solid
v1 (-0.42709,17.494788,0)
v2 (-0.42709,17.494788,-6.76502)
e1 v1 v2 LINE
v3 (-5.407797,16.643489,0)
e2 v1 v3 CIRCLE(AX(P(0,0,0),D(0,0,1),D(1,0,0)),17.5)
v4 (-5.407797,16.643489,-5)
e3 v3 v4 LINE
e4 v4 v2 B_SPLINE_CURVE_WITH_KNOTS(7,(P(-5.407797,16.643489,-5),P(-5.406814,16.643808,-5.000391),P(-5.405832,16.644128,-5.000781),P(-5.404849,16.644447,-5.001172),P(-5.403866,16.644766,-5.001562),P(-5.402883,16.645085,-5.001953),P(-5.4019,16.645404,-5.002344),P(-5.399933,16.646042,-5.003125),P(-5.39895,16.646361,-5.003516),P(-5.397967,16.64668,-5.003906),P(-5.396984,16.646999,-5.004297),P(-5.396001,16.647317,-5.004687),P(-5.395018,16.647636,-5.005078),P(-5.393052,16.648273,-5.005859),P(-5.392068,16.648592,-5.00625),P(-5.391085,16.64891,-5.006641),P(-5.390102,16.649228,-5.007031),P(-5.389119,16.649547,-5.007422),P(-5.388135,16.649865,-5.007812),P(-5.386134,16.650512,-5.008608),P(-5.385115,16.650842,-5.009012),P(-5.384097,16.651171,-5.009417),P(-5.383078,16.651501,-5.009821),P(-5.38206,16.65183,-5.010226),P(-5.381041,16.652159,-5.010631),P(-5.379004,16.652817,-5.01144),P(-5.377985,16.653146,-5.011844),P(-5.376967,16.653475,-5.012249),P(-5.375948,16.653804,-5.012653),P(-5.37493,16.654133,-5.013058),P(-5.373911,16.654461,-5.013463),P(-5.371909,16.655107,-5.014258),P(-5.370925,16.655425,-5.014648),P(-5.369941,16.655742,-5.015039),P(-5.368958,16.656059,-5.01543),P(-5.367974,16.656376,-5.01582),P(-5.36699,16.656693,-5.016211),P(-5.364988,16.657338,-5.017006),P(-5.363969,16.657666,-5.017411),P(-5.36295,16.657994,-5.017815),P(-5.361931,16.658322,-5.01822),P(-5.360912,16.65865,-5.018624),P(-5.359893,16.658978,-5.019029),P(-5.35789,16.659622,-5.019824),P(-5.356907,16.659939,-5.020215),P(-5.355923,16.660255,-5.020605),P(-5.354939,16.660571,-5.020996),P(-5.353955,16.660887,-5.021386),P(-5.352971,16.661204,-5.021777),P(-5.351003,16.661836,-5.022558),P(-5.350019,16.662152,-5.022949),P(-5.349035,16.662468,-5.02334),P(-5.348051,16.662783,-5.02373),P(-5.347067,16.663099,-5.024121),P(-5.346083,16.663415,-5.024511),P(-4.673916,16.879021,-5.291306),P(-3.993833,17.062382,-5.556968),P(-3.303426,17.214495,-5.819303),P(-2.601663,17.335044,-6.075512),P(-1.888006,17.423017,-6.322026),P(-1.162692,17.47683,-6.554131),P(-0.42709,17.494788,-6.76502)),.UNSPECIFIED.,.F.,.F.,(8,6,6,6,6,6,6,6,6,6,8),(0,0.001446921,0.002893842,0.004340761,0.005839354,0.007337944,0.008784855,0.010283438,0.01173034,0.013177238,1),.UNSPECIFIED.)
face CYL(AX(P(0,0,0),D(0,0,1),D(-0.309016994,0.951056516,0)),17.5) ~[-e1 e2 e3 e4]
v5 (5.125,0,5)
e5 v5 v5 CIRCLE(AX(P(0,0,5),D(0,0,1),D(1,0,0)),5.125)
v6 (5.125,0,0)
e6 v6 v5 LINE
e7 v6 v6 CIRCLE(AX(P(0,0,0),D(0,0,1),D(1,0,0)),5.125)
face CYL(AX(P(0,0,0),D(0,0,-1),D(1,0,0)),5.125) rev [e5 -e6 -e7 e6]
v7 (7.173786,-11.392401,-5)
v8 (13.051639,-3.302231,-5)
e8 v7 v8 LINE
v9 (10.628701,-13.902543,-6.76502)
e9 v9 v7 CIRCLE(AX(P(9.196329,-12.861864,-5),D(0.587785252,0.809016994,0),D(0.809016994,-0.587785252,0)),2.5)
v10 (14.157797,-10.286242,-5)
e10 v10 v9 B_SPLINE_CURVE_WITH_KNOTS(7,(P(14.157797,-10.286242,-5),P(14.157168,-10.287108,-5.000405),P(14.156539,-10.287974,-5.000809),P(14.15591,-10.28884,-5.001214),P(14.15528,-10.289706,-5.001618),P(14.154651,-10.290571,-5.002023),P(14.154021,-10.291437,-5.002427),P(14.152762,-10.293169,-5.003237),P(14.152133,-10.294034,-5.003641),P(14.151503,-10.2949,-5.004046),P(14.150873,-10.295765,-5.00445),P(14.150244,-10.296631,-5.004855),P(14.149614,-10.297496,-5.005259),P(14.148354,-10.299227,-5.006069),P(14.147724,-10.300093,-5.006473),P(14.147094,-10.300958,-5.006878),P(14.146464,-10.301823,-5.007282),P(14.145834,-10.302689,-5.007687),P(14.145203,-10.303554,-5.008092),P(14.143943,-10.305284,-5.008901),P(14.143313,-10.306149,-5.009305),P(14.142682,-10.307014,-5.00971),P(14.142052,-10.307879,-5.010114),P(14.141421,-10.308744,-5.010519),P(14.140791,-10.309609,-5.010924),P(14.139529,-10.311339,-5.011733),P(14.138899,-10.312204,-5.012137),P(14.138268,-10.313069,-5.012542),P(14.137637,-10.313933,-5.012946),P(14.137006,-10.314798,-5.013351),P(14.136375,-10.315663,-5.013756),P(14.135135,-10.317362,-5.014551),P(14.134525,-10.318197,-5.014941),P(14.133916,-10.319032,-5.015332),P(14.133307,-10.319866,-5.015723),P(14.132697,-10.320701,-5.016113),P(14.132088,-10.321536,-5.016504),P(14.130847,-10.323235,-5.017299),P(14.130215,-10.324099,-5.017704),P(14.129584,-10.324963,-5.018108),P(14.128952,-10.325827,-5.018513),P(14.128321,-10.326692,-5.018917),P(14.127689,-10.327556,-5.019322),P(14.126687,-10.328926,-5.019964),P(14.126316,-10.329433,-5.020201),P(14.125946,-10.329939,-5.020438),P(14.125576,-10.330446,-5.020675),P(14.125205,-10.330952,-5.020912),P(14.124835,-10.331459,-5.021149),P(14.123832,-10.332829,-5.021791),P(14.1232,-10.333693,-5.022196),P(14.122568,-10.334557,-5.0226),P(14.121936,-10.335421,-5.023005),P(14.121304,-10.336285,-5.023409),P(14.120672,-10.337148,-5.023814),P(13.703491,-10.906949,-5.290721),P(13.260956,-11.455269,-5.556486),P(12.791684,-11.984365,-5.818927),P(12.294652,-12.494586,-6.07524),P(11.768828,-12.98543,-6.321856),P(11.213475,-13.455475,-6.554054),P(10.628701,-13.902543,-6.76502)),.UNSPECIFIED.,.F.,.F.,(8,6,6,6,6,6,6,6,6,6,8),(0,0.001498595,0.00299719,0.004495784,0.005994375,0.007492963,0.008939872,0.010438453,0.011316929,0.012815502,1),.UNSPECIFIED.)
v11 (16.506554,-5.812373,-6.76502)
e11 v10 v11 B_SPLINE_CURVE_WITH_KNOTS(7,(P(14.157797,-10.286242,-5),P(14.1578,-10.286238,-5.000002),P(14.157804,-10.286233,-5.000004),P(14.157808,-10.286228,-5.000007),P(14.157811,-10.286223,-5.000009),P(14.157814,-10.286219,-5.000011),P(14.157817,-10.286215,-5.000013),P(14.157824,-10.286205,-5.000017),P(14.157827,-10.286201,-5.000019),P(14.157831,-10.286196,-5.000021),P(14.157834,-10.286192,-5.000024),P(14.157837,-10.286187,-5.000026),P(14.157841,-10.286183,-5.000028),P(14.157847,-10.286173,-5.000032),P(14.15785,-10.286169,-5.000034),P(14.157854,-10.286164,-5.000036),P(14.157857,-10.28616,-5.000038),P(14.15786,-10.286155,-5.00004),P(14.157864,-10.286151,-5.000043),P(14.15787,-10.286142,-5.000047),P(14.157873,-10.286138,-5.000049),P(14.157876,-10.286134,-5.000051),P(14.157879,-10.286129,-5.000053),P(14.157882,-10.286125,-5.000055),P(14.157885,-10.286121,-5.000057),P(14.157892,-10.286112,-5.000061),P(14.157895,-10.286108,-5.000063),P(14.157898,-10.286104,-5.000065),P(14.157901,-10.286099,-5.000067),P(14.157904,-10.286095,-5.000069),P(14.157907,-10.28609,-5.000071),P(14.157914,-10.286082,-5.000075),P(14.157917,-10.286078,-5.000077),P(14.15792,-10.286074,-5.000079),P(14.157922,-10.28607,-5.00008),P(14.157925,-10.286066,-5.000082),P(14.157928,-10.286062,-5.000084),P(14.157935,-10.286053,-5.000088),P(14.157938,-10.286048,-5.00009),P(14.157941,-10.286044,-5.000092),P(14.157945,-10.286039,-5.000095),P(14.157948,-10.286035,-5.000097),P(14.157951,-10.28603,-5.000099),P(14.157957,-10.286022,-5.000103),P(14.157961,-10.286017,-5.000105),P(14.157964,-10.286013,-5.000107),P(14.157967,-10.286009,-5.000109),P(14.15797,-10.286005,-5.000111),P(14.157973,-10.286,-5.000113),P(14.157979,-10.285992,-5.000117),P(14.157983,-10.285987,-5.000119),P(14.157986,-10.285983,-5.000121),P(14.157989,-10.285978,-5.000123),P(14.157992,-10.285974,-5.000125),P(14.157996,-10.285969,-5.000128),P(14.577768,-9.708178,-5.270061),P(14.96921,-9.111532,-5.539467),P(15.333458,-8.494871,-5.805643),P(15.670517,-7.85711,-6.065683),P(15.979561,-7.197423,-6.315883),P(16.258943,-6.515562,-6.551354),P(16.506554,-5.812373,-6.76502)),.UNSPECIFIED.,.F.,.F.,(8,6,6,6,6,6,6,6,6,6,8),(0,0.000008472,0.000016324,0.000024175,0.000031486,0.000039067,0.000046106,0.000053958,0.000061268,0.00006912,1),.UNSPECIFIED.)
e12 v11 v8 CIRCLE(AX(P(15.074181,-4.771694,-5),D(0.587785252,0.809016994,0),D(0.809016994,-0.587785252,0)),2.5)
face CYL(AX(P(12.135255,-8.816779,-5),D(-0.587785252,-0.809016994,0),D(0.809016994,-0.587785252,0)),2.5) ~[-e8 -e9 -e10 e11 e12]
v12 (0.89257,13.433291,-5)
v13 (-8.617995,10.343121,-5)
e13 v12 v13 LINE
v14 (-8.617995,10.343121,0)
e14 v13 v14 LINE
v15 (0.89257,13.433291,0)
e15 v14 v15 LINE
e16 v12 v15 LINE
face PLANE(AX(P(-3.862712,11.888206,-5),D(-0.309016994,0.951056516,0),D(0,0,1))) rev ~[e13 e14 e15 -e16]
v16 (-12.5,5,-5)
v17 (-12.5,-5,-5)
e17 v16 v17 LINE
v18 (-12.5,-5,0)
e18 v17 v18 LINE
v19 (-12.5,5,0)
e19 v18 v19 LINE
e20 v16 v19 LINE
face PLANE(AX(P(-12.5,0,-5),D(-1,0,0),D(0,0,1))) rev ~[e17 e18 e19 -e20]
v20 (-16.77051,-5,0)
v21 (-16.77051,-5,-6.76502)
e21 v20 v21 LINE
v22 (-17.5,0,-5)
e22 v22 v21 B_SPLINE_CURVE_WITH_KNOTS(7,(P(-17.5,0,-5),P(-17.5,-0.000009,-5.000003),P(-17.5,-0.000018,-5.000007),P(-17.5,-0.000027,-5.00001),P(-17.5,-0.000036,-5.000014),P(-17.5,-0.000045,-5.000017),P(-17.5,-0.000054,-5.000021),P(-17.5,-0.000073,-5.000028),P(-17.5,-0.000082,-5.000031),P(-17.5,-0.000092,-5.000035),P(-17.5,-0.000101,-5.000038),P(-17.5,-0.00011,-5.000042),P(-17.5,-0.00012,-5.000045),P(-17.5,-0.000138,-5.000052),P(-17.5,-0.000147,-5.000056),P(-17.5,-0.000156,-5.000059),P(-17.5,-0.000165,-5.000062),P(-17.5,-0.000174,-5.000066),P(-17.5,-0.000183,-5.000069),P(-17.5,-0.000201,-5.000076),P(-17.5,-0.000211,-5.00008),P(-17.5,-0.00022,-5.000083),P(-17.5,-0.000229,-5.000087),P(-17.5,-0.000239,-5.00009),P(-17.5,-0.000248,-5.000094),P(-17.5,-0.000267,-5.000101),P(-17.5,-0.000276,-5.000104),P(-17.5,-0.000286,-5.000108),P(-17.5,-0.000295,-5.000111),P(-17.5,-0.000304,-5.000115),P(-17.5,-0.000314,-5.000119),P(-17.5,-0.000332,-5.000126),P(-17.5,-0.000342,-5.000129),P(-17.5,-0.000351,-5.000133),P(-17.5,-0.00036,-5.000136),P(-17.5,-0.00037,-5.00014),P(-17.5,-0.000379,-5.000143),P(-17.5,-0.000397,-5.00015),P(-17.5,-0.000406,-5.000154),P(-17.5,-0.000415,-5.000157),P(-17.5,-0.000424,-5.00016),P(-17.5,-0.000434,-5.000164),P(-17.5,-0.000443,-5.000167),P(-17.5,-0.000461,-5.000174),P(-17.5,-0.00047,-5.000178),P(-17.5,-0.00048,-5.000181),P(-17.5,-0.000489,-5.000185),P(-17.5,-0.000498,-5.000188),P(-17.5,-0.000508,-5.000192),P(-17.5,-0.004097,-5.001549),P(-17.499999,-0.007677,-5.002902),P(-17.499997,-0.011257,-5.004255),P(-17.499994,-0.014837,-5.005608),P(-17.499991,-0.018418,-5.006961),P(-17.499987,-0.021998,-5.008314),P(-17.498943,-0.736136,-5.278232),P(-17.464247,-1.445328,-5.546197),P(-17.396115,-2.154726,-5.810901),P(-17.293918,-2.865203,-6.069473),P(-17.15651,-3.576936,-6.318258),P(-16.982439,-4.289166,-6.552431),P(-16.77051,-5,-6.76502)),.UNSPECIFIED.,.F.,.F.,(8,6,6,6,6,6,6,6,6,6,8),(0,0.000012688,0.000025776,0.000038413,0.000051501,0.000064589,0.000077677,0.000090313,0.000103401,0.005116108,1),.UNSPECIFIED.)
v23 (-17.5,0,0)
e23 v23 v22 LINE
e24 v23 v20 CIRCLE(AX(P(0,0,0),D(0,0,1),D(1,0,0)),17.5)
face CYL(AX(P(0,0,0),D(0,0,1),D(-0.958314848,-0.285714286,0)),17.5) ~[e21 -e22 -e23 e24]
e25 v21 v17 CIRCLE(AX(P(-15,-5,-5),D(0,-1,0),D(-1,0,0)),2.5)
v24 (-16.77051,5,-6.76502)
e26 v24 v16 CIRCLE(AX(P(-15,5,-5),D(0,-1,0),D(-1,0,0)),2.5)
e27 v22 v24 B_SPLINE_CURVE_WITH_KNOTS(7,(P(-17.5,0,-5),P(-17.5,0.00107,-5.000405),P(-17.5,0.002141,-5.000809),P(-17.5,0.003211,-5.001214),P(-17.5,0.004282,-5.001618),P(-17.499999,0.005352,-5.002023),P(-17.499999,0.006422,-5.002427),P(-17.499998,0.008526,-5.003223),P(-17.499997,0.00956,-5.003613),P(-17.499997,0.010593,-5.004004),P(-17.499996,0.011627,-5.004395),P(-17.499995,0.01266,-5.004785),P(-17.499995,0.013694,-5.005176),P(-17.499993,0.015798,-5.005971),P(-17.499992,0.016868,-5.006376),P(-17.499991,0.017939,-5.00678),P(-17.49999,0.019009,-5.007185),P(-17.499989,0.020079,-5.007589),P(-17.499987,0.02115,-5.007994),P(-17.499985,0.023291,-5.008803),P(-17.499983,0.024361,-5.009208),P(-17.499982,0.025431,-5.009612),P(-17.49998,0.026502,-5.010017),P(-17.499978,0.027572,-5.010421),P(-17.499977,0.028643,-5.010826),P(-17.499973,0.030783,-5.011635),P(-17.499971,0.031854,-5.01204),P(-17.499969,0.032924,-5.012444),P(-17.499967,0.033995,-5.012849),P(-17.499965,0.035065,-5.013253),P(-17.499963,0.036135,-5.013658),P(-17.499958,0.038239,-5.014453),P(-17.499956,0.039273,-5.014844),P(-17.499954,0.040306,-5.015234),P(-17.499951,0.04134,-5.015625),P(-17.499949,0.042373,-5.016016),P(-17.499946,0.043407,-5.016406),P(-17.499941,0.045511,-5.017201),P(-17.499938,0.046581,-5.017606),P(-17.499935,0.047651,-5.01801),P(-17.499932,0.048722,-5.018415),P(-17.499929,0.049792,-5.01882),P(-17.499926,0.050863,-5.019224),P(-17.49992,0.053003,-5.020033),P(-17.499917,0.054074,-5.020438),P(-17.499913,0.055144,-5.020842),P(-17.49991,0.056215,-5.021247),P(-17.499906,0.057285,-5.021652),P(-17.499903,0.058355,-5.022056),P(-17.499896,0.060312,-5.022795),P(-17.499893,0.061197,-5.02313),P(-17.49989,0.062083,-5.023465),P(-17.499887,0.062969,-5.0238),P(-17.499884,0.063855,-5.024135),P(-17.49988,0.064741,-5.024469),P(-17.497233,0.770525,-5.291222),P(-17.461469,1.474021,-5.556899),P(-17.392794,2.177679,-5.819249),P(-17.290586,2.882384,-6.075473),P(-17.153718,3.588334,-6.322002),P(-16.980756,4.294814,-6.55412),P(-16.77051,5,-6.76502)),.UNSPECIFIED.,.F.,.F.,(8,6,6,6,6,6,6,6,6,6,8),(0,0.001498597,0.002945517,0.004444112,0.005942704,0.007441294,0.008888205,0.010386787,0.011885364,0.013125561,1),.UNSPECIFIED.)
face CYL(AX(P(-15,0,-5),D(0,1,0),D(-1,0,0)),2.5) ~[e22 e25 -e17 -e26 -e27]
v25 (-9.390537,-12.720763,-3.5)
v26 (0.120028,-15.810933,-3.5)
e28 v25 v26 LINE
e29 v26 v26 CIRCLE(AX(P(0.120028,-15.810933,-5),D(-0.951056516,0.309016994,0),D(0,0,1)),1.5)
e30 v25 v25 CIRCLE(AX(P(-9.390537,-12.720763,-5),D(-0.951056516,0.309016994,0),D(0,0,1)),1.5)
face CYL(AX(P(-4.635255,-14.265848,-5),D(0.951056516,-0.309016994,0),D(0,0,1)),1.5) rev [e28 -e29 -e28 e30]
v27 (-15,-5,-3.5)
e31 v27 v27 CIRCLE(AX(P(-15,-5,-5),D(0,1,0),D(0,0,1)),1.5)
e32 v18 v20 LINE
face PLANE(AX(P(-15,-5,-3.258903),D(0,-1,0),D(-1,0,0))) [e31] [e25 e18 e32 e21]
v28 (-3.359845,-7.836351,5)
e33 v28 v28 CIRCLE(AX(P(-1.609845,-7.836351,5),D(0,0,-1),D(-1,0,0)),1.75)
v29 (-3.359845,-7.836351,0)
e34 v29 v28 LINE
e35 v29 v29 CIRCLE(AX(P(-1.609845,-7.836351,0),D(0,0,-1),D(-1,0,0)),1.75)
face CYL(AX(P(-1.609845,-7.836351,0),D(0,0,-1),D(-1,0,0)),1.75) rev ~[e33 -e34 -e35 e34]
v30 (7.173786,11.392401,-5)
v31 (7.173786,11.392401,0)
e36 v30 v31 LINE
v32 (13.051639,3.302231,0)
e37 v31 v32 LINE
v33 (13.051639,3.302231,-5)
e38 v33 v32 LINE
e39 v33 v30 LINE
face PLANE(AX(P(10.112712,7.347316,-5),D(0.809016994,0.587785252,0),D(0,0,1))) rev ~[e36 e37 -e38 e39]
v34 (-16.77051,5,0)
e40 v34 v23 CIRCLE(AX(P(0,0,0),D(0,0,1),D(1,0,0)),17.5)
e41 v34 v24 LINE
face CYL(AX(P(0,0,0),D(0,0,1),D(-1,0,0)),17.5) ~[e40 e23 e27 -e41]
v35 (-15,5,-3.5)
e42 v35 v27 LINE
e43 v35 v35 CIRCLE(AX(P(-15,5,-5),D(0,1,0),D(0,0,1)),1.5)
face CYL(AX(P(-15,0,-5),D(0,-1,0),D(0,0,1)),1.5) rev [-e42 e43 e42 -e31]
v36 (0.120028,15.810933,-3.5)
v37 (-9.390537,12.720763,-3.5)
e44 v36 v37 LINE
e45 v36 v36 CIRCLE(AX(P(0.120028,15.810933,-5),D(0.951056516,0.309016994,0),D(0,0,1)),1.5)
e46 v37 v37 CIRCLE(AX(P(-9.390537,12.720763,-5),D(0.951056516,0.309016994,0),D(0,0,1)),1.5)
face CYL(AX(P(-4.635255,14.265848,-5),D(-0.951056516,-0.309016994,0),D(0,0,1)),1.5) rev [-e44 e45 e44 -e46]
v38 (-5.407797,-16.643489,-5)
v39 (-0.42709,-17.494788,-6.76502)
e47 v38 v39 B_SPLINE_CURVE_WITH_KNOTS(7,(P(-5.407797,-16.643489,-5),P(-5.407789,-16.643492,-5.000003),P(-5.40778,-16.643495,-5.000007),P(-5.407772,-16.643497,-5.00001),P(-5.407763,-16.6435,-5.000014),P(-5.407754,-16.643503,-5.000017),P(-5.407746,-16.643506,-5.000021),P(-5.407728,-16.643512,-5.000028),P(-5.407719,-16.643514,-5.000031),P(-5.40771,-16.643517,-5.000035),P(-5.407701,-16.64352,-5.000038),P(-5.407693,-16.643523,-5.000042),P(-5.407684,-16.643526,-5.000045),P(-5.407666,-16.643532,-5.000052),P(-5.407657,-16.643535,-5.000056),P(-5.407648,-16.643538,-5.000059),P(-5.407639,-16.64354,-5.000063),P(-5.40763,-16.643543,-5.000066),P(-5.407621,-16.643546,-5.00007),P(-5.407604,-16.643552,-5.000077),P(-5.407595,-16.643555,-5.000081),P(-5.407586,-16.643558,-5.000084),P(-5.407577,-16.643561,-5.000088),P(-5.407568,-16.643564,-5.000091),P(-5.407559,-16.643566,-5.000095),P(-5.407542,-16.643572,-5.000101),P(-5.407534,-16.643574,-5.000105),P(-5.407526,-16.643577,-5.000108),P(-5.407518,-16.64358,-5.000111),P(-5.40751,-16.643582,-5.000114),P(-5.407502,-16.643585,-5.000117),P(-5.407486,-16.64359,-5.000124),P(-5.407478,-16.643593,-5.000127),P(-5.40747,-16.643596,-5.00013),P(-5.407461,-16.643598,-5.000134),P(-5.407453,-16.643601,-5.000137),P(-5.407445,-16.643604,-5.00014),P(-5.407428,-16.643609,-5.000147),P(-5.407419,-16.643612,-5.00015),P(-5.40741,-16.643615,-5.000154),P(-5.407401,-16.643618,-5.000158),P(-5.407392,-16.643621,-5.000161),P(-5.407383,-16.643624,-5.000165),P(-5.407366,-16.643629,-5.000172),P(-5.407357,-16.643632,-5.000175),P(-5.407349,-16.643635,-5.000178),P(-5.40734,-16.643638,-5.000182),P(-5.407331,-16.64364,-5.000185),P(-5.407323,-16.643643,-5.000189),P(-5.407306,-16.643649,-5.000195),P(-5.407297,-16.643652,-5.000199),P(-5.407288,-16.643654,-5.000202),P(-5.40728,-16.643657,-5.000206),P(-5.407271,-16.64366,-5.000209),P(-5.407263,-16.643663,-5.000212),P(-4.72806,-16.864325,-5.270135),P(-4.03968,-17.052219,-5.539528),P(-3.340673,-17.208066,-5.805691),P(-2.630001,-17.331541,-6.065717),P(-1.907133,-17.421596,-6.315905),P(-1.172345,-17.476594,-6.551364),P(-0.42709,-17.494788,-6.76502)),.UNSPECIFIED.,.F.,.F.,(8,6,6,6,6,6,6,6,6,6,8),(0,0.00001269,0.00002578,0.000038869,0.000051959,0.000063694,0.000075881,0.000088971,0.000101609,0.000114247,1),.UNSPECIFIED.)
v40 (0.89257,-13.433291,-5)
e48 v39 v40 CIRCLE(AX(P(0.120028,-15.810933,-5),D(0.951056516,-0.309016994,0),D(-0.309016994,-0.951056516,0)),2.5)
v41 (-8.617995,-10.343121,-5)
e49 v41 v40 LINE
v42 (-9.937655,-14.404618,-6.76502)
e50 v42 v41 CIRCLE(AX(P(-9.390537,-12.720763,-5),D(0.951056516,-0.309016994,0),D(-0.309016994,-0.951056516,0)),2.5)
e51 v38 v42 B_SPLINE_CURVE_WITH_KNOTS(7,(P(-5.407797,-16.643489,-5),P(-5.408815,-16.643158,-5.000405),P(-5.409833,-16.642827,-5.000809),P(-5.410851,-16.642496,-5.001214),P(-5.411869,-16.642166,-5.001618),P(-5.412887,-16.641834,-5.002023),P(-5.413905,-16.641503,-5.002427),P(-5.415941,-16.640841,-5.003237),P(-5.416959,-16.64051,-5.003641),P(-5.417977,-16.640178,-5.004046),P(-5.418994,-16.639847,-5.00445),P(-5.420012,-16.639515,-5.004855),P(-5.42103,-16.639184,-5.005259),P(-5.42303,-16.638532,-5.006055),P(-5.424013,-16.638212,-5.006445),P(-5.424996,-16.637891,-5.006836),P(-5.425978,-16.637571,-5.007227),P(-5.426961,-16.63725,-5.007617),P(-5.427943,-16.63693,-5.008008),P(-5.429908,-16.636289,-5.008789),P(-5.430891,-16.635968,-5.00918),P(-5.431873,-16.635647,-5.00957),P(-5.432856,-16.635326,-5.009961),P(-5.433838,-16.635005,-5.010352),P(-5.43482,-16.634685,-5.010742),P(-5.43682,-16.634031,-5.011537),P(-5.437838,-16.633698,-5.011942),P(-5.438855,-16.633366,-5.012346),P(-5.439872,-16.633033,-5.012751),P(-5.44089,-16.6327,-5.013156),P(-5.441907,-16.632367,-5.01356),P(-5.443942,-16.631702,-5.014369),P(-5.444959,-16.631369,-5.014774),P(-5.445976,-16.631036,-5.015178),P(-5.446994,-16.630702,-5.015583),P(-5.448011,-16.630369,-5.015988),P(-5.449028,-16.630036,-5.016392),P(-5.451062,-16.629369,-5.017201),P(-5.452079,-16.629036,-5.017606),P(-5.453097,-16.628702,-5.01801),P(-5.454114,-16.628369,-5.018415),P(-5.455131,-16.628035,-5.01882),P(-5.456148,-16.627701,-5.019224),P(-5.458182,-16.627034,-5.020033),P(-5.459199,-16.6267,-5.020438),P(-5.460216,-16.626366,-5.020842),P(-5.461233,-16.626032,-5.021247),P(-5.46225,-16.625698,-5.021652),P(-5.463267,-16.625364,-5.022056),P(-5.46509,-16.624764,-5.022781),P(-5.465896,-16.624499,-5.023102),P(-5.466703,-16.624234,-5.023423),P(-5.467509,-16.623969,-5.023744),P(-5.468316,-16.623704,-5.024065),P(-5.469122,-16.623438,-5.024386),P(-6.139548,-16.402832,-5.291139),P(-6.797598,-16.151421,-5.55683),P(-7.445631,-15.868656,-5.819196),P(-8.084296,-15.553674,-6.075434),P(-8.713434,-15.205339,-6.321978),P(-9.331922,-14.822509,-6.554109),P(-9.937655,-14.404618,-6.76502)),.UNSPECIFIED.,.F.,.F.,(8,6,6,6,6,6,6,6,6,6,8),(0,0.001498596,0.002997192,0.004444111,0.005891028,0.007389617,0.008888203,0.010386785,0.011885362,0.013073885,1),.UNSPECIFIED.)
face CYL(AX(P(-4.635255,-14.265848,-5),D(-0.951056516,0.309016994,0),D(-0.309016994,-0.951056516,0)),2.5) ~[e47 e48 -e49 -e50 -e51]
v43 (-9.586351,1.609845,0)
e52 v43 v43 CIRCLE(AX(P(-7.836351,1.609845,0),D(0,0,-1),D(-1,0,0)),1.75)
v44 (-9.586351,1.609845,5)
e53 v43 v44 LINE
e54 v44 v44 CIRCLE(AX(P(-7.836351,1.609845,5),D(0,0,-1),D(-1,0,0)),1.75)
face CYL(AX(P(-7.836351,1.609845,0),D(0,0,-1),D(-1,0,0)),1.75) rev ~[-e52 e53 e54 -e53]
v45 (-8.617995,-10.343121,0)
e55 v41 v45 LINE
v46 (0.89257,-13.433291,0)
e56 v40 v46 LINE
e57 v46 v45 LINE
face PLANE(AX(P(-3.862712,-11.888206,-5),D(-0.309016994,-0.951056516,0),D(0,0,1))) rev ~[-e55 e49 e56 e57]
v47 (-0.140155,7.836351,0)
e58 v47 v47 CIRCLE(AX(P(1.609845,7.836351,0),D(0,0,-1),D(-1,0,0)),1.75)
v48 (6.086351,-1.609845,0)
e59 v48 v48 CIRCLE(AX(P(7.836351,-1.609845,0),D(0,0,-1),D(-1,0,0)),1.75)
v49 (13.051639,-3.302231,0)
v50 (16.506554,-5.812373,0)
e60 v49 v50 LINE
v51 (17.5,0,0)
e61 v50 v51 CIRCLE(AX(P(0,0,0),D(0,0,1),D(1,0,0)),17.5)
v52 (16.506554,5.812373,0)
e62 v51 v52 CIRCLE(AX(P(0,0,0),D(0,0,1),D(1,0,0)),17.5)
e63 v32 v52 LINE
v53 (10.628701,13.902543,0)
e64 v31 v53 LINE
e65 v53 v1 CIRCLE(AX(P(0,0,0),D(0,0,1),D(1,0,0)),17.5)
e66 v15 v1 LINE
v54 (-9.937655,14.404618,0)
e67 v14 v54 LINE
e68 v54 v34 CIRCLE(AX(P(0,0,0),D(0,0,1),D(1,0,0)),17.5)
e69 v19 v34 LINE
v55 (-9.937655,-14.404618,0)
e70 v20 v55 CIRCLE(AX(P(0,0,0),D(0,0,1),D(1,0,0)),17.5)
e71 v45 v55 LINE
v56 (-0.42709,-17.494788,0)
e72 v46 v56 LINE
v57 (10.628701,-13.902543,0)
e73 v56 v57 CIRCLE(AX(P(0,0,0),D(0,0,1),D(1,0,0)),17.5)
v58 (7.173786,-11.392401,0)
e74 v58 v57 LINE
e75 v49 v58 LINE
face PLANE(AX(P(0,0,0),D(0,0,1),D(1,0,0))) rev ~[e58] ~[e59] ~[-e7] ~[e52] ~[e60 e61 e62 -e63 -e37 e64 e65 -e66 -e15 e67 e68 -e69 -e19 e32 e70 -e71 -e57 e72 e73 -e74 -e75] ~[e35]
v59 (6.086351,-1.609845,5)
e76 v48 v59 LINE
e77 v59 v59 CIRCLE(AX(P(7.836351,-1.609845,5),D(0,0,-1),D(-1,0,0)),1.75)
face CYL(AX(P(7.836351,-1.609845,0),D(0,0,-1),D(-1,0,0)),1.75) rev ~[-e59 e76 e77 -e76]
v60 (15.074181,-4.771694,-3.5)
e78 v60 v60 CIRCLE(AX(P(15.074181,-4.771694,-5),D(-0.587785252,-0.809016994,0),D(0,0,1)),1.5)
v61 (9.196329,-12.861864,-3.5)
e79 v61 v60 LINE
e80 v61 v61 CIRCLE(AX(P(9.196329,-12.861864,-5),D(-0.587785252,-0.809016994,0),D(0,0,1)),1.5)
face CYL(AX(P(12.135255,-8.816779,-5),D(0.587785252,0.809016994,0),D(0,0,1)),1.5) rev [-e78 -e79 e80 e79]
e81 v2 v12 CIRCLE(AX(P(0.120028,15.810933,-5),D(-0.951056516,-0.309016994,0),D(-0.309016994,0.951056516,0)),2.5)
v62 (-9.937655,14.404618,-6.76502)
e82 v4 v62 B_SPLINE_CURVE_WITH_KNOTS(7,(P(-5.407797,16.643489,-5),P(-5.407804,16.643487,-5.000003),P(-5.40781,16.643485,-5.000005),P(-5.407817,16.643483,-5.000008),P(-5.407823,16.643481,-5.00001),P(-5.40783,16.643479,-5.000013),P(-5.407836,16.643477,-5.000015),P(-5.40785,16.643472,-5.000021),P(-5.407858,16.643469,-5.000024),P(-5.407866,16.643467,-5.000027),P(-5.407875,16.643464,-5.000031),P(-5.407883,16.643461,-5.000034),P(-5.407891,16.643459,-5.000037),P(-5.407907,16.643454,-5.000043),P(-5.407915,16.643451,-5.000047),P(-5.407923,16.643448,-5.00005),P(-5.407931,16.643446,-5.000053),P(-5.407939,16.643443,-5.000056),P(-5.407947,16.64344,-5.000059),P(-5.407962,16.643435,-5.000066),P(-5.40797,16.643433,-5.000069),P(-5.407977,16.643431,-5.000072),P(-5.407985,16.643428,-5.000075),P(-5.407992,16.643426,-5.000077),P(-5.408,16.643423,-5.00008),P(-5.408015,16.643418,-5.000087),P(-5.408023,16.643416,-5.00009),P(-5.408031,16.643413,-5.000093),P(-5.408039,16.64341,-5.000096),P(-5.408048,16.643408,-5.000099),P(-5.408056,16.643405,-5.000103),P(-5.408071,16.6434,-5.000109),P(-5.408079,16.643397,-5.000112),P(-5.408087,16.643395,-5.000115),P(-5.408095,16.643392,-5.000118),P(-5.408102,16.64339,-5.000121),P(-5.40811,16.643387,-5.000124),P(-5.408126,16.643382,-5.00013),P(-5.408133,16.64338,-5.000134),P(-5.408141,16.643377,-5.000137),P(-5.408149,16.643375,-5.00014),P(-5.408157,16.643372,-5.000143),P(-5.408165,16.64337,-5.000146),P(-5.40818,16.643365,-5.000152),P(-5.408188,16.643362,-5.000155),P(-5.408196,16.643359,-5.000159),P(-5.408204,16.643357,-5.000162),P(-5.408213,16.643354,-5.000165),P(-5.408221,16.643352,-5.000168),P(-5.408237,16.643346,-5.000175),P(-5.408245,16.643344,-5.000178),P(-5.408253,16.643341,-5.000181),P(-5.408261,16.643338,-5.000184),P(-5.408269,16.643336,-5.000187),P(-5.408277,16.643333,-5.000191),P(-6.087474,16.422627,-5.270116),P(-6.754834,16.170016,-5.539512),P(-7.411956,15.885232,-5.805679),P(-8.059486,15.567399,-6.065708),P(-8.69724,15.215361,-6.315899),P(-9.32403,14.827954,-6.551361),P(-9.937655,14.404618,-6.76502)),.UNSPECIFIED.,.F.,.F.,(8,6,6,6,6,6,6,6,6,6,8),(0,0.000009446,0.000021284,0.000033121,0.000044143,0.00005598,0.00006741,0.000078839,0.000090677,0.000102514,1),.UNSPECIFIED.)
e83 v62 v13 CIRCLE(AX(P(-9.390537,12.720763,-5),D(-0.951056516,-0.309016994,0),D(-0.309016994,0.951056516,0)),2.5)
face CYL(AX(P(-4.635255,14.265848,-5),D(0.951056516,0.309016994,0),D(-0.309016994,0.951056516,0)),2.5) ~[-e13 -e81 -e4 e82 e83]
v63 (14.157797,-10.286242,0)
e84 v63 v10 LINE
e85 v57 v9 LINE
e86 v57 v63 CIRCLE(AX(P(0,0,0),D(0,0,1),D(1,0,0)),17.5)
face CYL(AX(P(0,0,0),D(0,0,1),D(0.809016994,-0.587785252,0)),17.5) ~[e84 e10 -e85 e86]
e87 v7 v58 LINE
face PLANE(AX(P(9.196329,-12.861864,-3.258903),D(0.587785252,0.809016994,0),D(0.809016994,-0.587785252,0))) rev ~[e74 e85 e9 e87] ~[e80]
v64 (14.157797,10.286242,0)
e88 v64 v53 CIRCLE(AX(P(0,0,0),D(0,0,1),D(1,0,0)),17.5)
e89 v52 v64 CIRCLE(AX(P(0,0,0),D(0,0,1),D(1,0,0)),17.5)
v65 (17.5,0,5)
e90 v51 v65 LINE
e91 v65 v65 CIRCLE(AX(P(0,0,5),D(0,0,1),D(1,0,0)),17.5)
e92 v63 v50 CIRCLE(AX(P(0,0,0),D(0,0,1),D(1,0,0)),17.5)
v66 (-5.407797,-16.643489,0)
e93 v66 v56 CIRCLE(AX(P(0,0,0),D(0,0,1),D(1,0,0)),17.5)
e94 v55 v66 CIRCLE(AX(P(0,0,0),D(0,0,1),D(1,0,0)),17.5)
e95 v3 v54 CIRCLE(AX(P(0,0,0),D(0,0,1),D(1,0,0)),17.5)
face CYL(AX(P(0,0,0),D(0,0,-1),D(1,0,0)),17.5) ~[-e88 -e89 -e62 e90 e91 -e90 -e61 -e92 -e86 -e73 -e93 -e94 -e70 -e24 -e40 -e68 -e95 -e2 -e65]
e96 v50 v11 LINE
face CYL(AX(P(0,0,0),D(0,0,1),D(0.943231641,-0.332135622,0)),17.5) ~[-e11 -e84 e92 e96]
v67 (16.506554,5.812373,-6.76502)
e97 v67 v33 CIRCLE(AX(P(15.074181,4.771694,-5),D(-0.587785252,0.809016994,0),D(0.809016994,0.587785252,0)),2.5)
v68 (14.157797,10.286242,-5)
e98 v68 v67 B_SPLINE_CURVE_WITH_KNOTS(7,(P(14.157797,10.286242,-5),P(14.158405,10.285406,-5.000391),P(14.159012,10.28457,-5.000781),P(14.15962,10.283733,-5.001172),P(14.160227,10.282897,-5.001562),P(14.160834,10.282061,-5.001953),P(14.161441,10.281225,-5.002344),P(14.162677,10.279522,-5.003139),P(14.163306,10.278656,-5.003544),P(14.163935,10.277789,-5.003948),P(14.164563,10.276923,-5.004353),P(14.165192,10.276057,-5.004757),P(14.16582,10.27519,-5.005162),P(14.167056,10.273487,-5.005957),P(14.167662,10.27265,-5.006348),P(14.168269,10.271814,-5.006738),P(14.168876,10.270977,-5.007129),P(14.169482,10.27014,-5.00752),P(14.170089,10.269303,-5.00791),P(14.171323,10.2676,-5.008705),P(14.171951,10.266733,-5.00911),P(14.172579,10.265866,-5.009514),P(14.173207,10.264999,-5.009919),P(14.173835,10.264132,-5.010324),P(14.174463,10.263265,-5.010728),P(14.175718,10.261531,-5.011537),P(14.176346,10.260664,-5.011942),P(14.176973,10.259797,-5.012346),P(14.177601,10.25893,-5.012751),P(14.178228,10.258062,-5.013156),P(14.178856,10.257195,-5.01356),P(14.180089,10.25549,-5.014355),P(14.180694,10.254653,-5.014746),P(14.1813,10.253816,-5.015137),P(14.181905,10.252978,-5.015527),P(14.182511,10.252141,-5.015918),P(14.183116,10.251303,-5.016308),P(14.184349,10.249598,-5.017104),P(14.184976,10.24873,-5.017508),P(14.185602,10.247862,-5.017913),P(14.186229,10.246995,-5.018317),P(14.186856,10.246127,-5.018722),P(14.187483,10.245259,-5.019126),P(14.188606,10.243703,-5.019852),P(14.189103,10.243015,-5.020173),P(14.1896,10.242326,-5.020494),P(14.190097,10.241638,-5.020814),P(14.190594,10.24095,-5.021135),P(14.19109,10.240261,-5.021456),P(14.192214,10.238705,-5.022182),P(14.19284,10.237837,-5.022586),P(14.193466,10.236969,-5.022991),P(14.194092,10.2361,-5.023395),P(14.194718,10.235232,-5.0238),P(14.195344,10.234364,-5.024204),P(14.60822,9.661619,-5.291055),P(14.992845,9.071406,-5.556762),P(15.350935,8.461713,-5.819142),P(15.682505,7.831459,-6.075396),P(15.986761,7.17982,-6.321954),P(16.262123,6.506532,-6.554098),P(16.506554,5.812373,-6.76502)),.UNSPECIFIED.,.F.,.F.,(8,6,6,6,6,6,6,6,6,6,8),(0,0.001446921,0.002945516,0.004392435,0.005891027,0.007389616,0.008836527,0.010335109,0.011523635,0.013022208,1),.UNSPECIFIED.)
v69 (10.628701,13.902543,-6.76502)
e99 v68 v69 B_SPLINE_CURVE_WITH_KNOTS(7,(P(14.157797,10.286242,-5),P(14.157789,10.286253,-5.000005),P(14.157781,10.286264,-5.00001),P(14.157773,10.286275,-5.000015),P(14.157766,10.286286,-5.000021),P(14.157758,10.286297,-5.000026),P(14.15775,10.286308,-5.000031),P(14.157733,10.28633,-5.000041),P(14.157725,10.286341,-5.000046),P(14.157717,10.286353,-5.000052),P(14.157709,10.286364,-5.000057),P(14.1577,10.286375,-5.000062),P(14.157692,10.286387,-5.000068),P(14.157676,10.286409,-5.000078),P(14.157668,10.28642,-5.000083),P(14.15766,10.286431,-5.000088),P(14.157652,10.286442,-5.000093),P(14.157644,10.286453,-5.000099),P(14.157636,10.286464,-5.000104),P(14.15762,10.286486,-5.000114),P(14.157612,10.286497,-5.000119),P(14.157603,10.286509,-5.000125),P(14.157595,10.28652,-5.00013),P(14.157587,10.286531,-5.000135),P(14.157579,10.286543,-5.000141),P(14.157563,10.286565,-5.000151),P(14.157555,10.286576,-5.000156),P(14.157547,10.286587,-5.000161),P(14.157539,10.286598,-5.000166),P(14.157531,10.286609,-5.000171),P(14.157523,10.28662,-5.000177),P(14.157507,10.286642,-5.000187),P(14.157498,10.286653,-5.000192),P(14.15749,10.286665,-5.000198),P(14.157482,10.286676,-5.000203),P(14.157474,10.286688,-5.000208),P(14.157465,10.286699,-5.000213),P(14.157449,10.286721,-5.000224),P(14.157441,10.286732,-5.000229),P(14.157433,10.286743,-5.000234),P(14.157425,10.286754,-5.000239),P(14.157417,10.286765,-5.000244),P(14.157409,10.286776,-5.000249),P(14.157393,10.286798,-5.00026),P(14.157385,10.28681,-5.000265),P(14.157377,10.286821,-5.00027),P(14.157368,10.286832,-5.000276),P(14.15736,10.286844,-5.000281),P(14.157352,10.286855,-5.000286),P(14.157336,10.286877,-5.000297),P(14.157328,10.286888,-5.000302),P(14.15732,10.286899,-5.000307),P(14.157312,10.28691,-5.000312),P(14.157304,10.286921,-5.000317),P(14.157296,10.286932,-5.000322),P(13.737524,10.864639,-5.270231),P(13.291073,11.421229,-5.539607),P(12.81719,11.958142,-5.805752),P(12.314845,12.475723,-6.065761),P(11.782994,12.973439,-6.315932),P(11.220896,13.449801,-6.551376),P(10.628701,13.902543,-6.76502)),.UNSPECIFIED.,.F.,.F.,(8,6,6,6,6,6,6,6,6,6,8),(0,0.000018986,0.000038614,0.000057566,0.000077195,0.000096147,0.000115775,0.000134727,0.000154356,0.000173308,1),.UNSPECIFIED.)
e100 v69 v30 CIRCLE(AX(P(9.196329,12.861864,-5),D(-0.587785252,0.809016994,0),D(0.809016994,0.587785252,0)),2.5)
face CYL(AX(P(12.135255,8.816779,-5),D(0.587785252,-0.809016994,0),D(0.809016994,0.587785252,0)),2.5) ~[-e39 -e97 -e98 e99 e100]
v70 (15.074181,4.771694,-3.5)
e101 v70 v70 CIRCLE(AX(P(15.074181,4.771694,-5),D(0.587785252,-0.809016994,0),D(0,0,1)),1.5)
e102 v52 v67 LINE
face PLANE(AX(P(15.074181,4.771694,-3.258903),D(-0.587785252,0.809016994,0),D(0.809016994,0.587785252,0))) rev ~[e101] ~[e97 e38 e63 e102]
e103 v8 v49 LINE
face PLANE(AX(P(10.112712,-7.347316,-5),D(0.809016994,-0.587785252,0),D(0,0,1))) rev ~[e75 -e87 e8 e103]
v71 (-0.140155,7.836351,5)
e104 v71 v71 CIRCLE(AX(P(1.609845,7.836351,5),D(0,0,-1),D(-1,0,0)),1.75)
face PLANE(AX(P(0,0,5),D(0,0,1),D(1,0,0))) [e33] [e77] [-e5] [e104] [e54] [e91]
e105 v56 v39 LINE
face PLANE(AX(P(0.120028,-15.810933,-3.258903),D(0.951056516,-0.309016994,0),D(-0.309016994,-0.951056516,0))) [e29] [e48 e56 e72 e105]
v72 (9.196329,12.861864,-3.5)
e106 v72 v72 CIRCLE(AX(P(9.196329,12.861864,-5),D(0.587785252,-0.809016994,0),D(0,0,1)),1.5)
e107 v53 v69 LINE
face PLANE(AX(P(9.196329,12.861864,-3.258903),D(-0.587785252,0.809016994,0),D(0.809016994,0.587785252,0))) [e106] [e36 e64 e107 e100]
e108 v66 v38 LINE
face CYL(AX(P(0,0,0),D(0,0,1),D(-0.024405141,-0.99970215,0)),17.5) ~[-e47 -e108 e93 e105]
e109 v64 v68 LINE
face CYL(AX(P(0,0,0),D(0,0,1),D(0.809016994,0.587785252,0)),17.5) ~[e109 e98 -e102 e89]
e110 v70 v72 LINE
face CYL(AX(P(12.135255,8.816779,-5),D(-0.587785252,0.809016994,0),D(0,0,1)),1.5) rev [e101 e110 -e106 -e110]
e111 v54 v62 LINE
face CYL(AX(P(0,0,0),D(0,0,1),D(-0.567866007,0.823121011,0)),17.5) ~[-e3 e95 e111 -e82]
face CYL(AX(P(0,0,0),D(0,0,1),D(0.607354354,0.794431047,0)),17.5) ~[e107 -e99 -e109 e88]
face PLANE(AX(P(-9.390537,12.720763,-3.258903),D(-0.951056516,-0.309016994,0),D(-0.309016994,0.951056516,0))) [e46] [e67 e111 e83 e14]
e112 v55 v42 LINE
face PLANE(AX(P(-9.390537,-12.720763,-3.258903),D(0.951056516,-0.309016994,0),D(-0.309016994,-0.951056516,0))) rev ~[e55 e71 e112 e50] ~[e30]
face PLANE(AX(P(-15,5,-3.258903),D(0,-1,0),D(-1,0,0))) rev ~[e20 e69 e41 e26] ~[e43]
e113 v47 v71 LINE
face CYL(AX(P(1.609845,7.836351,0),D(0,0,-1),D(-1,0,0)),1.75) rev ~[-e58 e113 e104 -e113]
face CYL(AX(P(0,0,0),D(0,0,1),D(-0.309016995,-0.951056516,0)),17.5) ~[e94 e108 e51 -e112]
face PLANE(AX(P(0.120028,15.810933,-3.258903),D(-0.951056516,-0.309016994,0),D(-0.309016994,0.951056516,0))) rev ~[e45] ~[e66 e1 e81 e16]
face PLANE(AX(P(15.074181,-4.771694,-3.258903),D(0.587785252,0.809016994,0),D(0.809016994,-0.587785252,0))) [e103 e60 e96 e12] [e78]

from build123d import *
from build123d.topology import SkipClean

# Parameters (mm, degrees)
ESQUISSE1_R                  = 17.5
ESQUISSE1_R_2                = 5.125
BOSS_EXTRU_1_DEPTH           = 5
ESQUISSE2_R                  = 1.5
BOSS_EXTRU_2_DEPTH           = 5
ENL_V_MAT_EXTRU_1_DEPTH      = 26.860201082
R_P_TITION_CIRCULAIRE1_COUNT = 5
ESQUISSE4_R                  = 1.75
ENL_V_MAT_EXTRU_2_DEPTH      = 10


with BuildPart() as part:
    # Esquisse1 → Boss.-Extru.1 (new body)
    with BuildSketch(Plane.XY):
        Circle(ESQUISSE1_R)
        Circle(ESQUISSE1_R_2, mode=Mode.SUBTRACT)
    extrude(amount=BOSS_EXTRU_1_DEPTH)

    # Esquisse2 → Boss.-Extru.2 (add, symmetric)
    with BuildSketch(Plane(origin=(0, 0, 0), x_dir=(1, 0, 0), z_dir=(0, 1, 0))):
        with BuildLine():
            Line((-17.5, 0), (-17.5, 5))
            ThreePointArc((-17.5, 5), (-15, 7.5), (-12.5, 5))
            Line((-12.5, 5), (-12.5, 0))
            Line((-12.5, 0), (-17.5, 0))
        make_face()
        with Locations((-15, 5)):
            Circle(ESQUISSE2_R, mode=Mode.SUBTRACT)
    boss_extru_2 = extrude(amount=BOSS_EXTRU_2_DEPTH, both=True)

    # Esquisse3 → Enlèv. mat.-Extru.1 (cut, through all)
    with SkipClean():  # the faces are left unmerged after this step: merging them gives an invalid solid
        with BuildSketch(Plane.XY):
            with BuildLine():
                ThreePointArc((-16.770509831, -5), (-17.316667145, -2.526467688), (-17.5, 0))
                Line((-17.5, 0), (-17.5, -5))
                Line((-17.5, -5), (-16.770509831, -5))
            make_face()
            with BuildLine():
                Line((-17.5, 5), (-17.5, 0))
                ThreePointArc((-17.5, 0), (-17.316667145, 2.526467688), (-16.770509831, 5))
                Line((-16.770509831, 5), (-17.5, 5))
            make_face()
        enl_v_mat_extru_1 = extrude(amount=-ENL_V_MAT_EXTRU_1_DEPTH, mode=Mode.SUBTRACT)

    # Répétition circulaire1: Boss.-Extru.2, Enlèv. mat.-Extru.1 ×5 about axis
    with SkipClean():  # the faces are left unmerged after this step: merging them gives an invalid solid
        r_p_tition_circulaire1_axis = Axis((0, 0, 0), (0, 0, 1))
        add([boss_extru_2.rotate(r_p_tition_circulaire1_axis, i * 360 / R_P_TITION_CIRCULAIRE1_COUNT) for i in range(1, R_P_TITION_CIRCULAIRE1_COUNT)])
        add([enl_v_mat_extru_1.rotate(r_p_tition_circulaire1_axis, i * 360 / R_P_TITION_CIRCULAIRE1_COUNT) for i in range(1, R_P_TITION_CIRCULAIRE1_COUNT)], mode=Mode.SUBTRACT)

    # Esquisse4 → Enlèv. mat.-Extru.2 (cut)
    with SkipClean():  # the faces are left unmerged after this step: merging them gives an invalid solid
        with BuildSketch(Plane(origin=(0, 0, 0), x_dir=(-1, 0, 0), z_dir=(0, 0, -1))):
            with Locations((-7.836351046, -1.609845421)):
                Circle(ESQUISSE4_R)
            with Locations((1.609845421, -7.836351046)):
                Circle(ESQUISSE4_R)
            with Locations((7.836351046, 1.609845421)):
                Circle(ESQUISSE4_R)
            with Locations((-1.609845421, 7.836351046)):
                Circle(ESQUISSE4_R)
        extrude(amount=-ENL_V_MAT_EXTRU_2_DEPTH, mode=Mode.SUBTRACT)


solid = part.part
